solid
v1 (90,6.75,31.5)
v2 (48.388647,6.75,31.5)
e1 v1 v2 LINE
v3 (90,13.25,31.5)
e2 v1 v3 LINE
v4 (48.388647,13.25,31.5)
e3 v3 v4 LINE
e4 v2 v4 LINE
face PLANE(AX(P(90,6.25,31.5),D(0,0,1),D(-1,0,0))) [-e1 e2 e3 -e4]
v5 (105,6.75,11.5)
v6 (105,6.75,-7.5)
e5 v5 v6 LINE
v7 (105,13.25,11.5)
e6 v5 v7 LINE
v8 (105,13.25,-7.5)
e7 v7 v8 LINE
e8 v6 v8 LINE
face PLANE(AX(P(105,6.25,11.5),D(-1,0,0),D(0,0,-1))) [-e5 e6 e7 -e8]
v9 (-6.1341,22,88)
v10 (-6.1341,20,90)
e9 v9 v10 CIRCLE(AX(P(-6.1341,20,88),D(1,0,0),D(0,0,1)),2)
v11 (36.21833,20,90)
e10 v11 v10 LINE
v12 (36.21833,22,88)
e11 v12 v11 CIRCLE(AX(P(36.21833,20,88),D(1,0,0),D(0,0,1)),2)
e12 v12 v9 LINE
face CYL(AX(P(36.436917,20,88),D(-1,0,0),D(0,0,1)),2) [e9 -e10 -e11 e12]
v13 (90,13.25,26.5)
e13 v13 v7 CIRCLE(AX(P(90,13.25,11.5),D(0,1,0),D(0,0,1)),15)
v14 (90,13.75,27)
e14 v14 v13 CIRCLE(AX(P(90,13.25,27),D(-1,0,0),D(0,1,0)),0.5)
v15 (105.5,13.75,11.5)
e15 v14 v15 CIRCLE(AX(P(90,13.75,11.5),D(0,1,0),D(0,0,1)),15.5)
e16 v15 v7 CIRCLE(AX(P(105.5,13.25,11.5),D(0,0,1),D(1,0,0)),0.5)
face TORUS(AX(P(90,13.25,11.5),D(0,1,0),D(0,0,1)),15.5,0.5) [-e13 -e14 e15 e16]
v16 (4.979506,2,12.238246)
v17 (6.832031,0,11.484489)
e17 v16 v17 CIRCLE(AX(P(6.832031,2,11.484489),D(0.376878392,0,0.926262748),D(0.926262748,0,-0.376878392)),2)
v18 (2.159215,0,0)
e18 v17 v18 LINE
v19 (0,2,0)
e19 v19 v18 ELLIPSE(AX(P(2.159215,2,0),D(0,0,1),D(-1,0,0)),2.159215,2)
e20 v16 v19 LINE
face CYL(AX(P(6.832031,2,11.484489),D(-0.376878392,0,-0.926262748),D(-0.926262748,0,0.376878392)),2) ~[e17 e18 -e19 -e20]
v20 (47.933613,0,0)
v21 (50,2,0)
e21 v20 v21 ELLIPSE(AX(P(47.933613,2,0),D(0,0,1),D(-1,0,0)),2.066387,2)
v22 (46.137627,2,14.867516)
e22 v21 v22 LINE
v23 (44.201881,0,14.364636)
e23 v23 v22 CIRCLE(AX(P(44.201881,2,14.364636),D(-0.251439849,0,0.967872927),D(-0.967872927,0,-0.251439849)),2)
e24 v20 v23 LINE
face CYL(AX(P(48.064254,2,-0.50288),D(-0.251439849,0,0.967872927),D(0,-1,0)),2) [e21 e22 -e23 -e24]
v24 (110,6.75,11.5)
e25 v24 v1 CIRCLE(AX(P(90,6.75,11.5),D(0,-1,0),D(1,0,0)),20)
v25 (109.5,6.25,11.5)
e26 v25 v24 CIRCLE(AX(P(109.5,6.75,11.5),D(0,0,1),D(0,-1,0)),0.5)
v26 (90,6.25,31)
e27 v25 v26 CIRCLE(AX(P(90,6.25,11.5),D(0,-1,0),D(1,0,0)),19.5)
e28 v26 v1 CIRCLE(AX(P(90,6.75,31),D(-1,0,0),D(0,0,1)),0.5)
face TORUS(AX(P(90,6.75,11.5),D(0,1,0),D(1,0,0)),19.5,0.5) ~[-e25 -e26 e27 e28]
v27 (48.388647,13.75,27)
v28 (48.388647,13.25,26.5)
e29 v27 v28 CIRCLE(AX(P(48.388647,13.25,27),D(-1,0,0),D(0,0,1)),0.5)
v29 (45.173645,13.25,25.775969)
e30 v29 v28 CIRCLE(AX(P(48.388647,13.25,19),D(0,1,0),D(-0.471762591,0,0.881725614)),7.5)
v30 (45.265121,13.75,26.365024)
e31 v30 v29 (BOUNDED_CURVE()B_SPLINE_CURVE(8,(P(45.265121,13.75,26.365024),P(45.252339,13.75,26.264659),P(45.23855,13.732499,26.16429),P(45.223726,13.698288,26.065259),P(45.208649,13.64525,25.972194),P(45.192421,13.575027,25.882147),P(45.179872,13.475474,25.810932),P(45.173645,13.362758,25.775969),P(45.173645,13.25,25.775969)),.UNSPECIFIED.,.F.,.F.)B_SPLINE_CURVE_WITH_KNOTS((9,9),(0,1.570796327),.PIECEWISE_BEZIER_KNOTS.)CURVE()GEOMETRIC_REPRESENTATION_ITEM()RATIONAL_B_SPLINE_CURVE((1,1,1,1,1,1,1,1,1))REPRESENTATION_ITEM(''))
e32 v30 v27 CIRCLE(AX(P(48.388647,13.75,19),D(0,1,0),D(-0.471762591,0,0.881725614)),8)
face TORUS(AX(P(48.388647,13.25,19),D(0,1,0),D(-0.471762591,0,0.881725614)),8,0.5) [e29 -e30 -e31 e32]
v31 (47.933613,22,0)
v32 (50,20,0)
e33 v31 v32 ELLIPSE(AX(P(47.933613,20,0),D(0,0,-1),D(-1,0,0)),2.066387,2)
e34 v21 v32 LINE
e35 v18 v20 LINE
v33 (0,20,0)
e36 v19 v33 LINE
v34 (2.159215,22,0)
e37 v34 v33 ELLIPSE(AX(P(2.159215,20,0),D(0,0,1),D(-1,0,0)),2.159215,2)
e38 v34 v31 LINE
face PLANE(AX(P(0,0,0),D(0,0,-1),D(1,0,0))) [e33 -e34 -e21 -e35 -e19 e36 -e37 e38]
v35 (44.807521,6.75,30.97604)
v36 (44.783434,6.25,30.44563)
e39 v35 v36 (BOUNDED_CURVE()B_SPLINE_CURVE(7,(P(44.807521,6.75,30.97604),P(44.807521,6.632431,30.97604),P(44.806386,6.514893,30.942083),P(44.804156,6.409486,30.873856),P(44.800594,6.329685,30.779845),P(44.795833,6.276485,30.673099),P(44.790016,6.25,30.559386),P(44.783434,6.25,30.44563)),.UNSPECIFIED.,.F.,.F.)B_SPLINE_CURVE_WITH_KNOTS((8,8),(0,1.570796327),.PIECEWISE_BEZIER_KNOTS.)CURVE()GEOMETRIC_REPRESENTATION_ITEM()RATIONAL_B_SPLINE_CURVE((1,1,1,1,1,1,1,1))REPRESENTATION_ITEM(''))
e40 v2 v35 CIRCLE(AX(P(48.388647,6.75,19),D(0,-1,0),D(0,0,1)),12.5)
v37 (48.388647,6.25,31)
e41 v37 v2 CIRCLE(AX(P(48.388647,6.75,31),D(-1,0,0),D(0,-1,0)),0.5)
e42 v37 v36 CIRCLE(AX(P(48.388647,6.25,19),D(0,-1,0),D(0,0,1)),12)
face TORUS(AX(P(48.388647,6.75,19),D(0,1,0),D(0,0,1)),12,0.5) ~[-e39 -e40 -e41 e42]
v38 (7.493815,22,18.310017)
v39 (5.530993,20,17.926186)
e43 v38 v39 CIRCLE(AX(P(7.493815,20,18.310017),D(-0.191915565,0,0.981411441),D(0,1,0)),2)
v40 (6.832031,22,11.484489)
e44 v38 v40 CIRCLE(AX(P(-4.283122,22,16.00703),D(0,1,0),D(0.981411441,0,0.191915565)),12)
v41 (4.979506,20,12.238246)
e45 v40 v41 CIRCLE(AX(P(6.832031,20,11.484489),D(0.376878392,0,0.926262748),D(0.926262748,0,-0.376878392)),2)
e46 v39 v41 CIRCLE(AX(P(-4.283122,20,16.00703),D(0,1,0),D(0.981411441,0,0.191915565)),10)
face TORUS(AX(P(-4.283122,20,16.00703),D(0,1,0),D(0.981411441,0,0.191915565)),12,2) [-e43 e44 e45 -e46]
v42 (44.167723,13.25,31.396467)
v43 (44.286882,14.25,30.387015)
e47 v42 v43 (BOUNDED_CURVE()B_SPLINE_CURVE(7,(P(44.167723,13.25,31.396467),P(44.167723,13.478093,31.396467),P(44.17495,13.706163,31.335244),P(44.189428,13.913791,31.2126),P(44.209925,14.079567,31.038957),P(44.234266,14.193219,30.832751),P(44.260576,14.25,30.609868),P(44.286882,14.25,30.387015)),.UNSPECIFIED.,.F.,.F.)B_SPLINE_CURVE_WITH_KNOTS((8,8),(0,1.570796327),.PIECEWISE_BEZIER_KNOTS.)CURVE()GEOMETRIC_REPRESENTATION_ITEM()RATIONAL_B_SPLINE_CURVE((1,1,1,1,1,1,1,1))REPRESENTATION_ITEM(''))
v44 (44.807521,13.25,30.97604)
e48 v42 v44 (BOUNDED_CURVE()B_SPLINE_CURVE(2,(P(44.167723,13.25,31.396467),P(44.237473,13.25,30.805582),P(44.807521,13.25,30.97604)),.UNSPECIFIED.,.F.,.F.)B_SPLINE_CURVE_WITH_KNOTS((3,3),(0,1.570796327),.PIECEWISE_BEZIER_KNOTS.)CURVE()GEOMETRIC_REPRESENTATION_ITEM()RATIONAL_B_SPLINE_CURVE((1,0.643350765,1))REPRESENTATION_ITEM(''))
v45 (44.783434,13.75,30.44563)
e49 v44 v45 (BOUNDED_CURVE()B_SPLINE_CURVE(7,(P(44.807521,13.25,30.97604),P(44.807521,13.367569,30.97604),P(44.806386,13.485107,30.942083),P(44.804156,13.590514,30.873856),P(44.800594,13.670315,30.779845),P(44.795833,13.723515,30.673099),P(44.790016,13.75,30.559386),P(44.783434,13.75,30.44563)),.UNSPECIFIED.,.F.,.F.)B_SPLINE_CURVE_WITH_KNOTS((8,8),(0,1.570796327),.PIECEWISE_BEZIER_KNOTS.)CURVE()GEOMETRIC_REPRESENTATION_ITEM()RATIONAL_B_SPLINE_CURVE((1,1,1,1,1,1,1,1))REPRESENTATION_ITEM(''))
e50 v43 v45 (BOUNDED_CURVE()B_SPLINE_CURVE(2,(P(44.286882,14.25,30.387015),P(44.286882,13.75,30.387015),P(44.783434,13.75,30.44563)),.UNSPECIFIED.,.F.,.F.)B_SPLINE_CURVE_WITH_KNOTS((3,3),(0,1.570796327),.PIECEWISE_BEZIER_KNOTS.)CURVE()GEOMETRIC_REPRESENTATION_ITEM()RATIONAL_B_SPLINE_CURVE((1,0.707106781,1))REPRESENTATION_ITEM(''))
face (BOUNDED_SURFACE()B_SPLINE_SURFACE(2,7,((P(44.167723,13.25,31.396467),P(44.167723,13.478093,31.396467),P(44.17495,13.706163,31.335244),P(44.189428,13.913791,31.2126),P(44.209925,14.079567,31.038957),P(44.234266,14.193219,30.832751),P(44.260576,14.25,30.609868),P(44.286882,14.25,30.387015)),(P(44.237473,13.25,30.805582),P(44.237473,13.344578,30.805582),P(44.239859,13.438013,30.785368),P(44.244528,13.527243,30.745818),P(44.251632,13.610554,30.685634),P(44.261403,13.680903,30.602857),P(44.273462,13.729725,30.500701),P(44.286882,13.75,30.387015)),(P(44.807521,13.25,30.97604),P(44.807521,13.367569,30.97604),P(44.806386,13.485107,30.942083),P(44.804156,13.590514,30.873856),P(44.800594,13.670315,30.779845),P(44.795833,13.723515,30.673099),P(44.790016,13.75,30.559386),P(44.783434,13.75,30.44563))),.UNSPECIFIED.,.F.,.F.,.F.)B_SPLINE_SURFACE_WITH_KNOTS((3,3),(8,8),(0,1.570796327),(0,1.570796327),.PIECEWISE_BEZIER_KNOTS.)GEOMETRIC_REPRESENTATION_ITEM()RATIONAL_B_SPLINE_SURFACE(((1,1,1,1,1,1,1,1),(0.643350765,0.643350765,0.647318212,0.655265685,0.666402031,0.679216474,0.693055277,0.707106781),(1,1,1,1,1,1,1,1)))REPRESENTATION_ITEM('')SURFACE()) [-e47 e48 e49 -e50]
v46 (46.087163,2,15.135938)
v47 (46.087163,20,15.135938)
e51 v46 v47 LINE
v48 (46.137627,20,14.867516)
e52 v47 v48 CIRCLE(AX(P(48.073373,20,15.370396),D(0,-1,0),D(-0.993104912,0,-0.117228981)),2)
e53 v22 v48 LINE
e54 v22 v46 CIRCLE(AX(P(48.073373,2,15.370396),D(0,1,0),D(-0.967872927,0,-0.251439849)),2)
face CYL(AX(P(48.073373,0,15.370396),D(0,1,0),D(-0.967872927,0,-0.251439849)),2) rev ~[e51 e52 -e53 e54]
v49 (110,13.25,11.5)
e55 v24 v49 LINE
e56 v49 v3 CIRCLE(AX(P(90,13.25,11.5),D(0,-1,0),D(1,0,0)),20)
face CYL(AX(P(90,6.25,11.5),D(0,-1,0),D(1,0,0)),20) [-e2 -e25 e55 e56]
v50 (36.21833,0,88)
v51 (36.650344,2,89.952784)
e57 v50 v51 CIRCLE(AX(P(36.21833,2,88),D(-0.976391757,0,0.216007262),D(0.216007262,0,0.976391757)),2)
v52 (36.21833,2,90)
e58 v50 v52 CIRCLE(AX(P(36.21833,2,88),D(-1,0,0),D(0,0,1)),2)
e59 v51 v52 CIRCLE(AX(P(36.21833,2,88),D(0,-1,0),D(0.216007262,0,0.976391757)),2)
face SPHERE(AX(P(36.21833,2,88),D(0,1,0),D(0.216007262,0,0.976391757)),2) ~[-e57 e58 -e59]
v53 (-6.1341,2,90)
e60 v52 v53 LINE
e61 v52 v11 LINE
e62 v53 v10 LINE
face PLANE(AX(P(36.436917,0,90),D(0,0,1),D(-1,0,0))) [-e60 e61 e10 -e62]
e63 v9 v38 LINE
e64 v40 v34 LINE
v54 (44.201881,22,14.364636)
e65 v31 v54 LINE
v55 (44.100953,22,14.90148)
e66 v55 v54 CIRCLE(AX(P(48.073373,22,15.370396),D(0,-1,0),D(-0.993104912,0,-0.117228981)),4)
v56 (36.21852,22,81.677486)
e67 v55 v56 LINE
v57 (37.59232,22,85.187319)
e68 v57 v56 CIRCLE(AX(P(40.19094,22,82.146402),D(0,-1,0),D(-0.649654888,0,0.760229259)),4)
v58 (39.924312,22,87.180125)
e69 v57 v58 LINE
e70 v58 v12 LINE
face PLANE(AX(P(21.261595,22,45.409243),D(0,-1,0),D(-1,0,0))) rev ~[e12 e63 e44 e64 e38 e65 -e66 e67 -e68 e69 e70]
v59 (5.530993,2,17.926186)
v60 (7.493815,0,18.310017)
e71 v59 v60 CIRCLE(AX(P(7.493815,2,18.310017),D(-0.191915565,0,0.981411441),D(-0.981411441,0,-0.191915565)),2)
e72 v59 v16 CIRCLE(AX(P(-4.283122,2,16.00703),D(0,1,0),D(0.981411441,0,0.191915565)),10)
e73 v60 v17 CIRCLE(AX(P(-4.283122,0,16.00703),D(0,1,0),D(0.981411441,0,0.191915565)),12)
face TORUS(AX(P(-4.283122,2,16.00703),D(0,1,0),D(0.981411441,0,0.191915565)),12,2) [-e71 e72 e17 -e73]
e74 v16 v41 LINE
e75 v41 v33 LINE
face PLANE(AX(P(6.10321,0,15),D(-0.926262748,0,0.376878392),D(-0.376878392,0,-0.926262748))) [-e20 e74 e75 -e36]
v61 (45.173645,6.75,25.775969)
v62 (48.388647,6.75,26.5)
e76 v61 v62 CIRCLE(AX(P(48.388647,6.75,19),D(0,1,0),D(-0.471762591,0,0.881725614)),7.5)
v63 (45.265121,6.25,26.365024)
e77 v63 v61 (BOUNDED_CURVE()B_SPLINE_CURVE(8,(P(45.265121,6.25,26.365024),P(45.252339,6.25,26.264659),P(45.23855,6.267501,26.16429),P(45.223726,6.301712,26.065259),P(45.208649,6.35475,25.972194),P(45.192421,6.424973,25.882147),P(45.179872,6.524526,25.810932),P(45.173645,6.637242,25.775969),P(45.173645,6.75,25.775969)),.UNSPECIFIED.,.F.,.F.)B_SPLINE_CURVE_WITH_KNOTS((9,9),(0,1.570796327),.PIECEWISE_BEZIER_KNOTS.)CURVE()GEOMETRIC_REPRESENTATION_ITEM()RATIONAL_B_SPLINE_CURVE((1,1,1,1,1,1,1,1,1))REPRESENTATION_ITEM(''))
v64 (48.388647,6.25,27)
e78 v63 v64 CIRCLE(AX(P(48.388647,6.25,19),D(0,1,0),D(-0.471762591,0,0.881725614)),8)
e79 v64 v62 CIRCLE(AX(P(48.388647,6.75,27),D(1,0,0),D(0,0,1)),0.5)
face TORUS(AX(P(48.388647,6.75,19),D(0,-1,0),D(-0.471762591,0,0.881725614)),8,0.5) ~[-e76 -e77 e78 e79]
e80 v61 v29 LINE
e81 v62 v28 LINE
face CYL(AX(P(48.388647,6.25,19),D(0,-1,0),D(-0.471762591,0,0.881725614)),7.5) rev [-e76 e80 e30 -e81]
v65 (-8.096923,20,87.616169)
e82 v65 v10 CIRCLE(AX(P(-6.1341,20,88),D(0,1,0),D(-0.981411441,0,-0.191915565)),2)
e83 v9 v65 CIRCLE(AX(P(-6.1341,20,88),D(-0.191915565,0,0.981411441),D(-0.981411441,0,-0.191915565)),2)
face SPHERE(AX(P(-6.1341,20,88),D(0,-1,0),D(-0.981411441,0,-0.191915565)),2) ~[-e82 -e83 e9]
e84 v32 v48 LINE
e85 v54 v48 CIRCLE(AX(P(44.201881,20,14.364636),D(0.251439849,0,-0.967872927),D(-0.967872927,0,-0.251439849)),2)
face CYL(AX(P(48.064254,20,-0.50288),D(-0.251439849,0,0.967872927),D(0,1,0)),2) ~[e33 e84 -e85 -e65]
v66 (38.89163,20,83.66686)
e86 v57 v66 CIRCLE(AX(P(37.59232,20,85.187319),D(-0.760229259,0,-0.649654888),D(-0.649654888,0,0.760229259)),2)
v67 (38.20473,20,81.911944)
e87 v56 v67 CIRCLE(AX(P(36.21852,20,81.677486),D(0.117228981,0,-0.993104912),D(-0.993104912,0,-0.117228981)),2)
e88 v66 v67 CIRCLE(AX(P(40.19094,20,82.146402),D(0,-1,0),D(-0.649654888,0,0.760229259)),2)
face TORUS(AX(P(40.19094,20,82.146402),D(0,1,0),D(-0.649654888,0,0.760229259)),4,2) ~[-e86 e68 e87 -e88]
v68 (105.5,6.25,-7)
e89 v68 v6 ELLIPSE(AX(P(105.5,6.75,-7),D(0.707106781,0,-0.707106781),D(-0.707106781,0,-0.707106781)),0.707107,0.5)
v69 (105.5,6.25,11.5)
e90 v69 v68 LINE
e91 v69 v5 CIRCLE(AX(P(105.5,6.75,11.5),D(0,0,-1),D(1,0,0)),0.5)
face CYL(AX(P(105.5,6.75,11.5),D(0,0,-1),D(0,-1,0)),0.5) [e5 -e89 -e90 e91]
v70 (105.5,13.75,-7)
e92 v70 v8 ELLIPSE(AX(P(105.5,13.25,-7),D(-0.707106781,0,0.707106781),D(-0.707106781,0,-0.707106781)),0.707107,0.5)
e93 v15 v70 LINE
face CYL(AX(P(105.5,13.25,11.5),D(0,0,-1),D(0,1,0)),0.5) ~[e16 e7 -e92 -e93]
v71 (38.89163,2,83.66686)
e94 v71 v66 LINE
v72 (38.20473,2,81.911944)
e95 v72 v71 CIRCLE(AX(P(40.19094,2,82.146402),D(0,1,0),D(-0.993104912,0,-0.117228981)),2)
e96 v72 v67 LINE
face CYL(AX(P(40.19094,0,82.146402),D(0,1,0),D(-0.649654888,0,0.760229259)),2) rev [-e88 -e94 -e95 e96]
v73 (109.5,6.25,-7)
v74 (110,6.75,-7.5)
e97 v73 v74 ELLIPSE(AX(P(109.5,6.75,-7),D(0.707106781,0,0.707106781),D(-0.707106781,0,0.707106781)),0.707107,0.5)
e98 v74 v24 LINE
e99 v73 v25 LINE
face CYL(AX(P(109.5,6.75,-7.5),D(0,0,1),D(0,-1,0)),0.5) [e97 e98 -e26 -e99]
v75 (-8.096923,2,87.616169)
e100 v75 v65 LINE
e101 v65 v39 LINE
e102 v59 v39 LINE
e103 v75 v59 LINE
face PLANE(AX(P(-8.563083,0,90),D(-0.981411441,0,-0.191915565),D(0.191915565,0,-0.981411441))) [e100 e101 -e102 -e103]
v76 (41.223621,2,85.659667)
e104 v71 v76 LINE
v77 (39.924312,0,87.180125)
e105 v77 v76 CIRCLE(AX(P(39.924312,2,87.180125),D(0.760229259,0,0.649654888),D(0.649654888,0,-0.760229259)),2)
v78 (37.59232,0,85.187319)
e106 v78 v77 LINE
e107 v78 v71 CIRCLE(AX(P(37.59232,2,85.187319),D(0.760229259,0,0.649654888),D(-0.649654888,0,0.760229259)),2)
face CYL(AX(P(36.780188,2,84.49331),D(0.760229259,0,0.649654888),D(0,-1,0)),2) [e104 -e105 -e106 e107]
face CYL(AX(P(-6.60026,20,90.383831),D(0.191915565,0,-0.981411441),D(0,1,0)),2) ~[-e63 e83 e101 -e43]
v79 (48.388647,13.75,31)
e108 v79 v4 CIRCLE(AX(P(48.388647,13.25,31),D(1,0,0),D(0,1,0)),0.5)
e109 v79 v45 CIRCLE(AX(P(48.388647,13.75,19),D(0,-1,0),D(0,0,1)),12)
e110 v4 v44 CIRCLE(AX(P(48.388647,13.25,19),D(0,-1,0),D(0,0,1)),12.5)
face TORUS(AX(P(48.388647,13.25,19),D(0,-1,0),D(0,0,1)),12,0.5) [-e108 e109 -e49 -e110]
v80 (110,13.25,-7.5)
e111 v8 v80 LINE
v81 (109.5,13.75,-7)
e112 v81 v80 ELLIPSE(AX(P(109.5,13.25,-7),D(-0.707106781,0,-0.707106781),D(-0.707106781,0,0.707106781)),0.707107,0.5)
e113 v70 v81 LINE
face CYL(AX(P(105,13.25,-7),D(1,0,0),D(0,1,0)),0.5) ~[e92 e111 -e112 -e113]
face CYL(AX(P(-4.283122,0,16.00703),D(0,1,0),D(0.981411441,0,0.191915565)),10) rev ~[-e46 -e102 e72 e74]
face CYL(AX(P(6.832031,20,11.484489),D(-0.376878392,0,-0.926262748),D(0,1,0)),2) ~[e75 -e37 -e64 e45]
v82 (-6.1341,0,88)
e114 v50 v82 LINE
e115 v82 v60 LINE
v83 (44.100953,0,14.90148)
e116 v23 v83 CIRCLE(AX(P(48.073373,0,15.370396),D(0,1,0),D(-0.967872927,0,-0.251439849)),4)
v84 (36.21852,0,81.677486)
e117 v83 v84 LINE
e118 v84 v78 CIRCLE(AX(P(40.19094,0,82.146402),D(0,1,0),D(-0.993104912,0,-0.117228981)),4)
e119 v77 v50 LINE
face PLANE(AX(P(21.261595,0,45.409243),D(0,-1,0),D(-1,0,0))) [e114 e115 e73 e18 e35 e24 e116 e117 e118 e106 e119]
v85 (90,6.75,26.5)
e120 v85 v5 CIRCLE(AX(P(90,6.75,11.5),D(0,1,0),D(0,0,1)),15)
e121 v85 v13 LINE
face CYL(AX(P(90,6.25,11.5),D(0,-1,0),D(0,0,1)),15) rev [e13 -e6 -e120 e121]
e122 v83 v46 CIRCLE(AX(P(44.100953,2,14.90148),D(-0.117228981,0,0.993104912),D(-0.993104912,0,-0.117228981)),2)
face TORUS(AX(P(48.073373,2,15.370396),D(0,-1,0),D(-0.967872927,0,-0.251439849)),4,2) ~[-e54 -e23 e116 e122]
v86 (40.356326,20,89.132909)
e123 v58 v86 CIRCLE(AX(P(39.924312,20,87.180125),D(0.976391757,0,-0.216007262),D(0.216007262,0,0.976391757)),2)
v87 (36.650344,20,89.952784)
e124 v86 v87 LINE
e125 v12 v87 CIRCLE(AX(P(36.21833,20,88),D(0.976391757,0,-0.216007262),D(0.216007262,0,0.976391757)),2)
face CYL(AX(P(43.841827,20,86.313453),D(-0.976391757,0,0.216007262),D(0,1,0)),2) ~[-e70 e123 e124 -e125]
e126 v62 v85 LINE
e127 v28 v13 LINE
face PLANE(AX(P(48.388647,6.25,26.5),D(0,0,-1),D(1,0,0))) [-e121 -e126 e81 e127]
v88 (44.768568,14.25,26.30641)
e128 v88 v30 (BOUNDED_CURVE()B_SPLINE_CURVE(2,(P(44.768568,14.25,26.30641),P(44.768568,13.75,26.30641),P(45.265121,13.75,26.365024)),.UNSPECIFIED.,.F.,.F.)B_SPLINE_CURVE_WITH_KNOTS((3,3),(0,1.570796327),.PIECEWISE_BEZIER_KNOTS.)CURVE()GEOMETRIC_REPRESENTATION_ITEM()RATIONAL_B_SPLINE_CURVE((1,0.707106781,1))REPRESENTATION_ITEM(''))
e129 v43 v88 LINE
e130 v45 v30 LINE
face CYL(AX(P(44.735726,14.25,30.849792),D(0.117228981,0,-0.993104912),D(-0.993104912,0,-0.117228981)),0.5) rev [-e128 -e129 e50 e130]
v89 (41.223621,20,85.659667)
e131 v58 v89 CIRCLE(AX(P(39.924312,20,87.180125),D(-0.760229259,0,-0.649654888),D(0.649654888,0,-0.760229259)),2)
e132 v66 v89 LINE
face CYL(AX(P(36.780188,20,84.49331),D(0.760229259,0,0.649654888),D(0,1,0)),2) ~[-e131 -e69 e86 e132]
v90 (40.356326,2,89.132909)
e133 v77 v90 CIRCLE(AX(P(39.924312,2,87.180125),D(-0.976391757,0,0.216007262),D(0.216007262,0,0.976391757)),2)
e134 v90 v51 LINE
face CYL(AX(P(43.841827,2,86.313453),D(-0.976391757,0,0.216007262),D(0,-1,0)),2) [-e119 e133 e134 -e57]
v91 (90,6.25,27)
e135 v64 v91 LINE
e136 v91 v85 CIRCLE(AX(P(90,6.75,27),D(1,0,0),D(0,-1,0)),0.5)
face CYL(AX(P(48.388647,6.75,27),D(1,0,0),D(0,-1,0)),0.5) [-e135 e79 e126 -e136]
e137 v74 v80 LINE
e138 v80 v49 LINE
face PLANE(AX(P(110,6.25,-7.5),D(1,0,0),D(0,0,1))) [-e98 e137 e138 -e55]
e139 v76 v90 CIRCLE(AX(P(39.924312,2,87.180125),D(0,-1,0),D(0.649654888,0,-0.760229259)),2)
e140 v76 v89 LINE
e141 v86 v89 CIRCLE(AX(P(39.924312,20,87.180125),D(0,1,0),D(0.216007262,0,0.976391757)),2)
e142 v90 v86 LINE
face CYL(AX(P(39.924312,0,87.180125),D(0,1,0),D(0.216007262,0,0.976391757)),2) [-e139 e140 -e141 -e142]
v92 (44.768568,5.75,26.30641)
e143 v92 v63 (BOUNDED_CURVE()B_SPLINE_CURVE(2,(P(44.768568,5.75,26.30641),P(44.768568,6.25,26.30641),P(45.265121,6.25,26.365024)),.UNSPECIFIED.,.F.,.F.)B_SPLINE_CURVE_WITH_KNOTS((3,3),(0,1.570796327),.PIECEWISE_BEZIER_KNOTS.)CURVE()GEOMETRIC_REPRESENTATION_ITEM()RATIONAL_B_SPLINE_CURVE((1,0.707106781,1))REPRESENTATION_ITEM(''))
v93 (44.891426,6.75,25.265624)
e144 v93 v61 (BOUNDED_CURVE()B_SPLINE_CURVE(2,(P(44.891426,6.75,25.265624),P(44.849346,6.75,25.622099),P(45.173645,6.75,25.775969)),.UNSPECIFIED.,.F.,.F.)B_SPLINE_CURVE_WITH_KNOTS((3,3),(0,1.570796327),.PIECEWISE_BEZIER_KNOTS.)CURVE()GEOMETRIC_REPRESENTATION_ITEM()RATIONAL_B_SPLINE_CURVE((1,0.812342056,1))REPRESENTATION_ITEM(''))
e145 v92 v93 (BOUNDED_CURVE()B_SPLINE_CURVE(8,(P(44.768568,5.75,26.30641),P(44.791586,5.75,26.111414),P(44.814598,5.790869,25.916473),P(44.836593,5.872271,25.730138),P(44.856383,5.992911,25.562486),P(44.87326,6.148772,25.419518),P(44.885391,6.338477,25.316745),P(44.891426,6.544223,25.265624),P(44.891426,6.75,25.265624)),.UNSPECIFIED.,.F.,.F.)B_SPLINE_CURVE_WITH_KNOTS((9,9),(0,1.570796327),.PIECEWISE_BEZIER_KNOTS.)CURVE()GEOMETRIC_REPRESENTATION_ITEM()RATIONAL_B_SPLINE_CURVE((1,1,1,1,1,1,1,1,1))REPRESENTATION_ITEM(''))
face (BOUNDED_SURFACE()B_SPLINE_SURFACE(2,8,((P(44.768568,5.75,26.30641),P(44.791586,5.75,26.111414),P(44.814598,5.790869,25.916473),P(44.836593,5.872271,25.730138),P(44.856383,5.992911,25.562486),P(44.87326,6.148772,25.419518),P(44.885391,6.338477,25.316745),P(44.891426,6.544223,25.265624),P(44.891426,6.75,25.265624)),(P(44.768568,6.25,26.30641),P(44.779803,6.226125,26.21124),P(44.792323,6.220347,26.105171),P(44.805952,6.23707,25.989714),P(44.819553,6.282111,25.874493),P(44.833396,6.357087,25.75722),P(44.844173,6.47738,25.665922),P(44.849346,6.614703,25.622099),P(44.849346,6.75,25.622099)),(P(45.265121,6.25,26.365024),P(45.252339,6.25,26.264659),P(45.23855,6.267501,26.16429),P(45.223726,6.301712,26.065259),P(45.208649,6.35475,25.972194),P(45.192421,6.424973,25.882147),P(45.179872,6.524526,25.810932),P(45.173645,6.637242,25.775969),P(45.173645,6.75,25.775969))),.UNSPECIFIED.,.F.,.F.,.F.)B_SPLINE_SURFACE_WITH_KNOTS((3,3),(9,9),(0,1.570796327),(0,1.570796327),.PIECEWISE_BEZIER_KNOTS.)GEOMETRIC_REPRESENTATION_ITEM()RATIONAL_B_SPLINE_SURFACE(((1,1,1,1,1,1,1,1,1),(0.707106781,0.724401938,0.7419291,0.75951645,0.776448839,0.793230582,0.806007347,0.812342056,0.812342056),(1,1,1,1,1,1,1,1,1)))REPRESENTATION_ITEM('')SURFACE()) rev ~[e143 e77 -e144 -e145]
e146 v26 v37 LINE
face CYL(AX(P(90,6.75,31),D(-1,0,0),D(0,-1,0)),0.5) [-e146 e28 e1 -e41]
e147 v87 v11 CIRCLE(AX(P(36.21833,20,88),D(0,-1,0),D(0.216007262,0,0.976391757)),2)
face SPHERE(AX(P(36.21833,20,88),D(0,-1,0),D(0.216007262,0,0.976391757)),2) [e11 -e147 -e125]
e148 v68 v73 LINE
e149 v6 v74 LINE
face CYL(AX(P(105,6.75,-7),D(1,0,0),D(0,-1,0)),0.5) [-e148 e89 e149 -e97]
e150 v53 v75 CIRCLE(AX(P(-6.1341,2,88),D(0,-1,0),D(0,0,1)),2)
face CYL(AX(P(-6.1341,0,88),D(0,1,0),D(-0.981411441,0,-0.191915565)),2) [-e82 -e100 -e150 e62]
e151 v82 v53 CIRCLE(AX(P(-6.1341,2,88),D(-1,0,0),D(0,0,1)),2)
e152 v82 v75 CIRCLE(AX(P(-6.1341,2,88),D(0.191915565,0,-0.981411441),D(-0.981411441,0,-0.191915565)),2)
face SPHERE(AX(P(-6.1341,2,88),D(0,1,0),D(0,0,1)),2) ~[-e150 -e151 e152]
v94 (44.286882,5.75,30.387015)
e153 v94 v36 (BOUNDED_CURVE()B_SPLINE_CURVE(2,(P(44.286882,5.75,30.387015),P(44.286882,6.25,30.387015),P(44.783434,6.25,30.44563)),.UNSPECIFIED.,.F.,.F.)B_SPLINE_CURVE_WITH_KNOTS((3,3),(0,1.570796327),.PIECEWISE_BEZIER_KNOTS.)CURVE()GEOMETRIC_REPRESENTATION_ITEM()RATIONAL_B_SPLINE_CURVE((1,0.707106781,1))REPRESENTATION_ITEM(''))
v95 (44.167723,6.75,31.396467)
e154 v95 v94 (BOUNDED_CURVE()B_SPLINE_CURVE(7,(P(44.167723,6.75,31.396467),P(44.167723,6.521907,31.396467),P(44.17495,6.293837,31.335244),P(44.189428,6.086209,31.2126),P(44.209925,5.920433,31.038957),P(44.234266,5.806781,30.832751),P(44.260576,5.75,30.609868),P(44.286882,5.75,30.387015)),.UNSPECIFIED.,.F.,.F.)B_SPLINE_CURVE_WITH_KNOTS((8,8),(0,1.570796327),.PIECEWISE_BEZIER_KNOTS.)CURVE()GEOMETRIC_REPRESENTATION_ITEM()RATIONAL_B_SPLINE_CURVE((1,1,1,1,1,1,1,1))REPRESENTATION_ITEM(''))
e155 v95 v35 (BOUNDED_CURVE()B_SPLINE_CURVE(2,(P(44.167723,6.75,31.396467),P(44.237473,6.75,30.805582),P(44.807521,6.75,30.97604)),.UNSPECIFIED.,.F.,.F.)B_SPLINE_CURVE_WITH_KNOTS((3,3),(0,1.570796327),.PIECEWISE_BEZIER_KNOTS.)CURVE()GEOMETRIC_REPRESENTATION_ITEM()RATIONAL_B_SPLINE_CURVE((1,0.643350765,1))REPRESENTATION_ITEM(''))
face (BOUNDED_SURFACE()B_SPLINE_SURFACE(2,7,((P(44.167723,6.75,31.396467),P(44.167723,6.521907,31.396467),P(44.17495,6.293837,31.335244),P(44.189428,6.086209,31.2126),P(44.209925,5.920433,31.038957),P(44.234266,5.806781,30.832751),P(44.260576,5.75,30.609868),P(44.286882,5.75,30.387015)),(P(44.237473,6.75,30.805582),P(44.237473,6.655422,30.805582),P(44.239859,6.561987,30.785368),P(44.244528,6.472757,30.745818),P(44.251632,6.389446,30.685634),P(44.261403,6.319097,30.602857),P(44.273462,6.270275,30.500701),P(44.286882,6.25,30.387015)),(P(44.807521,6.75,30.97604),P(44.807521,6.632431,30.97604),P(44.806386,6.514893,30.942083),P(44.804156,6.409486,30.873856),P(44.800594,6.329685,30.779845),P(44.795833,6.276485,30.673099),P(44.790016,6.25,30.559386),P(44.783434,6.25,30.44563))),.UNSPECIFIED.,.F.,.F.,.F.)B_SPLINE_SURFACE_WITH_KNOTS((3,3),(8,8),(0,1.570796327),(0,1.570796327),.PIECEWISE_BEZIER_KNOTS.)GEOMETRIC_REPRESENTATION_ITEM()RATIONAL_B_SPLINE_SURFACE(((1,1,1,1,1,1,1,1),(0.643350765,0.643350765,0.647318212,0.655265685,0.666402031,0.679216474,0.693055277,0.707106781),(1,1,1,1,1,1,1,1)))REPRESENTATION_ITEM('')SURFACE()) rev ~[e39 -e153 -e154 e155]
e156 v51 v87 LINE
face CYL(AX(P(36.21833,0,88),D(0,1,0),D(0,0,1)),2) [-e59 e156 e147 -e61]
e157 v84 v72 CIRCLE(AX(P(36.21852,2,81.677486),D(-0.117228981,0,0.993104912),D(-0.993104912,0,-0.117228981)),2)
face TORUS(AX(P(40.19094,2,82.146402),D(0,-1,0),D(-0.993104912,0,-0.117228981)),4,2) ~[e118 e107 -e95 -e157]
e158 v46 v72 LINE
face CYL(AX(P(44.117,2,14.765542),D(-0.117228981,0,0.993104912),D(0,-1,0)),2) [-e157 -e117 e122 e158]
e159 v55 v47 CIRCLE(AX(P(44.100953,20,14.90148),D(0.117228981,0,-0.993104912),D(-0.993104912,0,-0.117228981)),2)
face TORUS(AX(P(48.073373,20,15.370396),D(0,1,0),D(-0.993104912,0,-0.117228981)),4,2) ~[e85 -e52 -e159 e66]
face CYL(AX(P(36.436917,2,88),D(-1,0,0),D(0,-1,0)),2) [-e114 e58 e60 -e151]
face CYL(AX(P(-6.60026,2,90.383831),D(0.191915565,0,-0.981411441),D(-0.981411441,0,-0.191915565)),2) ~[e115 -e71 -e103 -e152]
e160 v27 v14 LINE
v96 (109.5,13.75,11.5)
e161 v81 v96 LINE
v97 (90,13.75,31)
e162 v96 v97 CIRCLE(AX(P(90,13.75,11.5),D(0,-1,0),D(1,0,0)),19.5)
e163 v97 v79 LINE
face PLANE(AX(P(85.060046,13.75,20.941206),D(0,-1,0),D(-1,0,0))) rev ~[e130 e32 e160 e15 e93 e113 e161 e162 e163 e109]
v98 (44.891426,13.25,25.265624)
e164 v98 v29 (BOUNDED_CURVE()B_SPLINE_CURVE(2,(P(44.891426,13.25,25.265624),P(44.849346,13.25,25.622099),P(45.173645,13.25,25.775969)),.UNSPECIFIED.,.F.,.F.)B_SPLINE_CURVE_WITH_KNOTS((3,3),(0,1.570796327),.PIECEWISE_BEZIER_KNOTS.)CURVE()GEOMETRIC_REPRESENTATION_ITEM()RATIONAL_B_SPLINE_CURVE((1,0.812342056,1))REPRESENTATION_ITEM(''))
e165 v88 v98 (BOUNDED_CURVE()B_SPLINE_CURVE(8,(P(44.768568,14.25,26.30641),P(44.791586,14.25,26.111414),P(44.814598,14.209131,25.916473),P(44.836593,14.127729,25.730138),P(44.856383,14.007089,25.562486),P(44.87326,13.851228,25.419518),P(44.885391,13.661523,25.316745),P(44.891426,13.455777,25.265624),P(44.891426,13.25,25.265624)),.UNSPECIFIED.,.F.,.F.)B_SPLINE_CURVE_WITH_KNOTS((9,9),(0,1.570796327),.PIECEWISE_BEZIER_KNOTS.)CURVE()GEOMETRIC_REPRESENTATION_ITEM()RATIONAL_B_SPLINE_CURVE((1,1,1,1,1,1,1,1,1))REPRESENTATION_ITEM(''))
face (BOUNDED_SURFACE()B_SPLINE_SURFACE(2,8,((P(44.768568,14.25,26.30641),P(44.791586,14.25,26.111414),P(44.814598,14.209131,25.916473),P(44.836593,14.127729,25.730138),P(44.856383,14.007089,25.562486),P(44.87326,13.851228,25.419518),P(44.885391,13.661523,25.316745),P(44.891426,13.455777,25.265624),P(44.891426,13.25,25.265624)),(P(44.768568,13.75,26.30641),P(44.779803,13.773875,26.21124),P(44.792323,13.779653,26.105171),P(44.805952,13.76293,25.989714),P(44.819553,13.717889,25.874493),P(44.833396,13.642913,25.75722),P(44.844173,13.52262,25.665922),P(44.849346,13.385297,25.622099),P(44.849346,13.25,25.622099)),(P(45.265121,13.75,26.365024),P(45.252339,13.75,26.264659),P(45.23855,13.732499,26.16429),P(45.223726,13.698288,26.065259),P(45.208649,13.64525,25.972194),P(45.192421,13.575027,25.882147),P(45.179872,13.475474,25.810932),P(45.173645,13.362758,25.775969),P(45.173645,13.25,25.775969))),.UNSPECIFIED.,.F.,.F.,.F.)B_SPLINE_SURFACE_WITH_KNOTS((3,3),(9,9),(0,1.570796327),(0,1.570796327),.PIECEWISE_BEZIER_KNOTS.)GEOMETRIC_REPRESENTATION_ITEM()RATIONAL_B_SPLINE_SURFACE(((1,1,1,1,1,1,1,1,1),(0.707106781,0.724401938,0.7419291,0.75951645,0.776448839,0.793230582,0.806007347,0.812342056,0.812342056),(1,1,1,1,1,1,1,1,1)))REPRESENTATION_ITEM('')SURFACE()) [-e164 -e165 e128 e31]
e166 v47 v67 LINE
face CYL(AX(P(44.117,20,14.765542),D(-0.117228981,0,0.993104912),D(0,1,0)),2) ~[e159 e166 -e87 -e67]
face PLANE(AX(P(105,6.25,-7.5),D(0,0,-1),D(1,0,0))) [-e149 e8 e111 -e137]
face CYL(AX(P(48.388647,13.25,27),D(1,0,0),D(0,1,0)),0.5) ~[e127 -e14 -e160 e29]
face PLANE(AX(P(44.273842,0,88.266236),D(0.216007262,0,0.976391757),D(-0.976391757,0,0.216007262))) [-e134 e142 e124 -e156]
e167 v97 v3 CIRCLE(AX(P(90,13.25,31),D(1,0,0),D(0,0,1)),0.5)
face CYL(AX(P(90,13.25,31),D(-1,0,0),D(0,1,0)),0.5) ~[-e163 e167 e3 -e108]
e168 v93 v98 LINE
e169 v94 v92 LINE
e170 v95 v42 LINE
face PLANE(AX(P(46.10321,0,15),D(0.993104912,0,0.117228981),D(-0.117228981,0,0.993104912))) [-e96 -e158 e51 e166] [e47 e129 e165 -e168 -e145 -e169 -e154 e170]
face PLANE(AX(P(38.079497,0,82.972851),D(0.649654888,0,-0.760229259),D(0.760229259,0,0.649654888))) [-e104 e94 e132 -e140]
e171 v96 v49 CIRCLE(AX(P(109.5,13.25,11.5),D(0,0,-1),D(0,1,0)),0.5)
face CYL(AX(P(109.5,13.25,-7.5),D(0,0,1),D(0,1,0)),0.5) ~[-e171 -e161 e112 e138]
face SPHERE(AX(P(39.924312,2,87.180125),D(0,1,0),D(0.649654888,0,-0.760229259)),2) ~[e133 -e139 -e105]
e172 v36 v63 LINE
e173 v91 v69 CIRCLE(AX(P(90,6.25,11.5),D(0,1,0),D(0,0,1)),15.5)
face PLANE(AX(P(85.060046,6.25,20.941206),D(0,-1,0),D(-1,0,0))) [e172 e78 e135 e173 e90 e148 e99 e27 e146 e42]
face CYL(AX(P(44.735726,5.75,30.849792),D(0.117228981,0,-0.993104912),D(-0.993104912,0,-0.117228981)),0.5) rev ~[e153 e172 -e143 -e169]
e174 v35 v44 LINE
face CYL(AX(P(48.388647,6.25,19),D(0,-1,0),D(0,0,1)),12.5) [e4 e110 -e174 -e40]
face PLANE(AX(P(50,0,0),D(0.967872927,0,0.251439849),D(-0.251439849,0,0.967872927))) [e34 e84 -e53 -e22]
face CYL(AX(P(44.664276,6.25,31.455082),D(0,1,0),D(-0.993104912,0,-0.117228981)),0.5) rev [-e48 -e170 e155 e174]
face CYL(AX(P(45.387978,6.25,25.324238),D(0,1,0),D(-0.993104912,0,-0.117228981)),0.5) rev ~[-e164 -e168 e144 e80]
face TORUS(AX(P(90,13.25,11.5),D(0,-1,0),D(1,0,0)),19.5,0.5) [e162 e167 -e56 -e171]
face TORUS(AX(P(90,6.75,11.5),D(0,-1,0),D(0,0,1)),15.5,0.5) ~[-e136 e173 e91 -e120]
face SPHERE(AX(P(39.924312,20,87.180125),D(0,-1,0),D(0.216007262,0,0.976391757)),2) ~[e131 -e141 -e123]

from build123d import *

# Parameters (mm, degrees)
BOSS_EXTRUDE1_DEPTH = 22
FILLET1_R           = 10
FILLET1_2_R         = 2
BOSS_EXTRUDE2_START = 6.25
BOSS_EXTRUDE2_DEPTH = 7.5
FILLET2_R           = 0.5


with BuildPart() as part:
    # Sketch1 → Boss-Extrude1 (new body)
    with BuildSketch(Plane(origin=(0, 0, 0), x_dir=(1, 0, 0), z_dir=(0, 1, 0))):
        Polygon((0, 0), (50, 0), (46.103209795, -15), (38.079497445, -82.972851485), (44.273841657, -88.266236279), (36.436917163, -90), (-8.563082837, -90), (6.103209795, -15), align=None)
    extrude(amount=BOSS_EXTRUDE1_DEPTH)

    # Fillet1
    fillet1_edges = [part.edges().sort_by_distance(p)[0] for p in [
        (6.103209795, 11, 15),
    ]]
    fillet(fillet1_edges, radius=FILLET1_R)

    # Fillet1 2
    fillet1_2_edges = [part.edges().sort_by_distance(p)[0] for p in [
        (40.35537941, 0, 89.133118139),
        (13.936917163, 0, 90),
        (-1.229936521, 0, 52.5),
        (3.051604897, 0, 7.5),
        (13.936917163, 22, 90),
        (46.103209795, 11, 15),
        (38.079497445, 11, 82.972851485),
        (44.273841657, 11, 88.266236279),
        (36.436917163, 11, 90),
        (-8.563082837, 11, 90),
        (40.35537941, 22, 89.133118139),
        (41.176669551, 22, 85.619543882),
        (42.09135362, 22, 48.986425743),
        (48.051604897, 22, 7.5),
        (3.051604897, 22, 7.5),
        (-1.229936521, 22, 52.5),
        (48.051604897, 0, 7.5),
        (42.09135362, 0, 48.986425743),
        (41.176669551, 0, 85.619543882),
    ]]
    fillet(fillet1_2_edges, radius=FILLET1_2_R)

    # Sketch2 → Boss-Extrude2 (add)
    with BuildSketch(Plane(origin=(0, 0, 0), x_dir=(1, 0, 0), z_dir=(0, 1, 0)).offset(BOSS_EXTRUDE2_START)):
        with BuildLine():
            Line((105, 7.5), (110, 7.5))
            Line((110, 7.5), (110, -11.5))
            ThreePointArc((110, -11.5), (104.142135624, -25.642135624), (90, -31.5))
            Line((90, -31.5), (48.388646792, -31.5))
            ThreePointArc((48.388646792, -31.5), (46.283857117, -31.321520216), (44.239173426, -30.791177667))
            Line((44.239173426, -30.791177667), (44.850427357, -25.612942101))
            ThreePointArc((44.850427357, -25.612942101), (46.564786293, -26.27485621), (48.388646792, -26.5))
            Line((48.388646792, -26.5), (90, -26.5))
            ThreePointArc((90, -26.5), (100.606601718, -22.106601718), (105, -11.5))
            Line((105, -11.5), (105, 7.5))
        make_face()
    extrude(amount=BOSS_EXTRUDE2_DEPTH)

    # Fillet2
    fillet2_edges = [part.edges().sort_by_distance(p)[0] for p in [
        (105, 6.25, 2),
        (100.606601718, 6.25, 22.106601718),
        (69.194323396, 6.25, 26.5),
        (46.564786293, 6.25, 26.27485621),
        (44.544800391, 6.25, 28.202059884),
        (44.850427357, 10, 25.612942101),
        (46.283857117, 6.25, 31.321520216),
        (44.239173426, 10, 30.791177667),
        (69.194323396, 6.25, 31.5),
        (104.142135624, 6.25, 25.642135624),
        (110, 6.25, 2),
        (107.5, 6.25, -7.5),
        (105, 13.75, 2),
        (100.606601718, 13.75, 22.106601718),
        (69.194323396, 13.75, 26.5),
        (46.564786293, 13.75, 26.27485621),
        (44.544800391, 13.75, 28.202059884),
        (46.283857117, 13.75, 31.321520216),
        (69.194323396, 13.75, 31.5),
        (104.142135624, 13.75, 25.642135624),
        (110, 13.75, 2),
        (107.5, 13.75, -7.5),
    ]]
    fillet(fillet2_edges, radius=FILLET2_R)


solid = part.part
